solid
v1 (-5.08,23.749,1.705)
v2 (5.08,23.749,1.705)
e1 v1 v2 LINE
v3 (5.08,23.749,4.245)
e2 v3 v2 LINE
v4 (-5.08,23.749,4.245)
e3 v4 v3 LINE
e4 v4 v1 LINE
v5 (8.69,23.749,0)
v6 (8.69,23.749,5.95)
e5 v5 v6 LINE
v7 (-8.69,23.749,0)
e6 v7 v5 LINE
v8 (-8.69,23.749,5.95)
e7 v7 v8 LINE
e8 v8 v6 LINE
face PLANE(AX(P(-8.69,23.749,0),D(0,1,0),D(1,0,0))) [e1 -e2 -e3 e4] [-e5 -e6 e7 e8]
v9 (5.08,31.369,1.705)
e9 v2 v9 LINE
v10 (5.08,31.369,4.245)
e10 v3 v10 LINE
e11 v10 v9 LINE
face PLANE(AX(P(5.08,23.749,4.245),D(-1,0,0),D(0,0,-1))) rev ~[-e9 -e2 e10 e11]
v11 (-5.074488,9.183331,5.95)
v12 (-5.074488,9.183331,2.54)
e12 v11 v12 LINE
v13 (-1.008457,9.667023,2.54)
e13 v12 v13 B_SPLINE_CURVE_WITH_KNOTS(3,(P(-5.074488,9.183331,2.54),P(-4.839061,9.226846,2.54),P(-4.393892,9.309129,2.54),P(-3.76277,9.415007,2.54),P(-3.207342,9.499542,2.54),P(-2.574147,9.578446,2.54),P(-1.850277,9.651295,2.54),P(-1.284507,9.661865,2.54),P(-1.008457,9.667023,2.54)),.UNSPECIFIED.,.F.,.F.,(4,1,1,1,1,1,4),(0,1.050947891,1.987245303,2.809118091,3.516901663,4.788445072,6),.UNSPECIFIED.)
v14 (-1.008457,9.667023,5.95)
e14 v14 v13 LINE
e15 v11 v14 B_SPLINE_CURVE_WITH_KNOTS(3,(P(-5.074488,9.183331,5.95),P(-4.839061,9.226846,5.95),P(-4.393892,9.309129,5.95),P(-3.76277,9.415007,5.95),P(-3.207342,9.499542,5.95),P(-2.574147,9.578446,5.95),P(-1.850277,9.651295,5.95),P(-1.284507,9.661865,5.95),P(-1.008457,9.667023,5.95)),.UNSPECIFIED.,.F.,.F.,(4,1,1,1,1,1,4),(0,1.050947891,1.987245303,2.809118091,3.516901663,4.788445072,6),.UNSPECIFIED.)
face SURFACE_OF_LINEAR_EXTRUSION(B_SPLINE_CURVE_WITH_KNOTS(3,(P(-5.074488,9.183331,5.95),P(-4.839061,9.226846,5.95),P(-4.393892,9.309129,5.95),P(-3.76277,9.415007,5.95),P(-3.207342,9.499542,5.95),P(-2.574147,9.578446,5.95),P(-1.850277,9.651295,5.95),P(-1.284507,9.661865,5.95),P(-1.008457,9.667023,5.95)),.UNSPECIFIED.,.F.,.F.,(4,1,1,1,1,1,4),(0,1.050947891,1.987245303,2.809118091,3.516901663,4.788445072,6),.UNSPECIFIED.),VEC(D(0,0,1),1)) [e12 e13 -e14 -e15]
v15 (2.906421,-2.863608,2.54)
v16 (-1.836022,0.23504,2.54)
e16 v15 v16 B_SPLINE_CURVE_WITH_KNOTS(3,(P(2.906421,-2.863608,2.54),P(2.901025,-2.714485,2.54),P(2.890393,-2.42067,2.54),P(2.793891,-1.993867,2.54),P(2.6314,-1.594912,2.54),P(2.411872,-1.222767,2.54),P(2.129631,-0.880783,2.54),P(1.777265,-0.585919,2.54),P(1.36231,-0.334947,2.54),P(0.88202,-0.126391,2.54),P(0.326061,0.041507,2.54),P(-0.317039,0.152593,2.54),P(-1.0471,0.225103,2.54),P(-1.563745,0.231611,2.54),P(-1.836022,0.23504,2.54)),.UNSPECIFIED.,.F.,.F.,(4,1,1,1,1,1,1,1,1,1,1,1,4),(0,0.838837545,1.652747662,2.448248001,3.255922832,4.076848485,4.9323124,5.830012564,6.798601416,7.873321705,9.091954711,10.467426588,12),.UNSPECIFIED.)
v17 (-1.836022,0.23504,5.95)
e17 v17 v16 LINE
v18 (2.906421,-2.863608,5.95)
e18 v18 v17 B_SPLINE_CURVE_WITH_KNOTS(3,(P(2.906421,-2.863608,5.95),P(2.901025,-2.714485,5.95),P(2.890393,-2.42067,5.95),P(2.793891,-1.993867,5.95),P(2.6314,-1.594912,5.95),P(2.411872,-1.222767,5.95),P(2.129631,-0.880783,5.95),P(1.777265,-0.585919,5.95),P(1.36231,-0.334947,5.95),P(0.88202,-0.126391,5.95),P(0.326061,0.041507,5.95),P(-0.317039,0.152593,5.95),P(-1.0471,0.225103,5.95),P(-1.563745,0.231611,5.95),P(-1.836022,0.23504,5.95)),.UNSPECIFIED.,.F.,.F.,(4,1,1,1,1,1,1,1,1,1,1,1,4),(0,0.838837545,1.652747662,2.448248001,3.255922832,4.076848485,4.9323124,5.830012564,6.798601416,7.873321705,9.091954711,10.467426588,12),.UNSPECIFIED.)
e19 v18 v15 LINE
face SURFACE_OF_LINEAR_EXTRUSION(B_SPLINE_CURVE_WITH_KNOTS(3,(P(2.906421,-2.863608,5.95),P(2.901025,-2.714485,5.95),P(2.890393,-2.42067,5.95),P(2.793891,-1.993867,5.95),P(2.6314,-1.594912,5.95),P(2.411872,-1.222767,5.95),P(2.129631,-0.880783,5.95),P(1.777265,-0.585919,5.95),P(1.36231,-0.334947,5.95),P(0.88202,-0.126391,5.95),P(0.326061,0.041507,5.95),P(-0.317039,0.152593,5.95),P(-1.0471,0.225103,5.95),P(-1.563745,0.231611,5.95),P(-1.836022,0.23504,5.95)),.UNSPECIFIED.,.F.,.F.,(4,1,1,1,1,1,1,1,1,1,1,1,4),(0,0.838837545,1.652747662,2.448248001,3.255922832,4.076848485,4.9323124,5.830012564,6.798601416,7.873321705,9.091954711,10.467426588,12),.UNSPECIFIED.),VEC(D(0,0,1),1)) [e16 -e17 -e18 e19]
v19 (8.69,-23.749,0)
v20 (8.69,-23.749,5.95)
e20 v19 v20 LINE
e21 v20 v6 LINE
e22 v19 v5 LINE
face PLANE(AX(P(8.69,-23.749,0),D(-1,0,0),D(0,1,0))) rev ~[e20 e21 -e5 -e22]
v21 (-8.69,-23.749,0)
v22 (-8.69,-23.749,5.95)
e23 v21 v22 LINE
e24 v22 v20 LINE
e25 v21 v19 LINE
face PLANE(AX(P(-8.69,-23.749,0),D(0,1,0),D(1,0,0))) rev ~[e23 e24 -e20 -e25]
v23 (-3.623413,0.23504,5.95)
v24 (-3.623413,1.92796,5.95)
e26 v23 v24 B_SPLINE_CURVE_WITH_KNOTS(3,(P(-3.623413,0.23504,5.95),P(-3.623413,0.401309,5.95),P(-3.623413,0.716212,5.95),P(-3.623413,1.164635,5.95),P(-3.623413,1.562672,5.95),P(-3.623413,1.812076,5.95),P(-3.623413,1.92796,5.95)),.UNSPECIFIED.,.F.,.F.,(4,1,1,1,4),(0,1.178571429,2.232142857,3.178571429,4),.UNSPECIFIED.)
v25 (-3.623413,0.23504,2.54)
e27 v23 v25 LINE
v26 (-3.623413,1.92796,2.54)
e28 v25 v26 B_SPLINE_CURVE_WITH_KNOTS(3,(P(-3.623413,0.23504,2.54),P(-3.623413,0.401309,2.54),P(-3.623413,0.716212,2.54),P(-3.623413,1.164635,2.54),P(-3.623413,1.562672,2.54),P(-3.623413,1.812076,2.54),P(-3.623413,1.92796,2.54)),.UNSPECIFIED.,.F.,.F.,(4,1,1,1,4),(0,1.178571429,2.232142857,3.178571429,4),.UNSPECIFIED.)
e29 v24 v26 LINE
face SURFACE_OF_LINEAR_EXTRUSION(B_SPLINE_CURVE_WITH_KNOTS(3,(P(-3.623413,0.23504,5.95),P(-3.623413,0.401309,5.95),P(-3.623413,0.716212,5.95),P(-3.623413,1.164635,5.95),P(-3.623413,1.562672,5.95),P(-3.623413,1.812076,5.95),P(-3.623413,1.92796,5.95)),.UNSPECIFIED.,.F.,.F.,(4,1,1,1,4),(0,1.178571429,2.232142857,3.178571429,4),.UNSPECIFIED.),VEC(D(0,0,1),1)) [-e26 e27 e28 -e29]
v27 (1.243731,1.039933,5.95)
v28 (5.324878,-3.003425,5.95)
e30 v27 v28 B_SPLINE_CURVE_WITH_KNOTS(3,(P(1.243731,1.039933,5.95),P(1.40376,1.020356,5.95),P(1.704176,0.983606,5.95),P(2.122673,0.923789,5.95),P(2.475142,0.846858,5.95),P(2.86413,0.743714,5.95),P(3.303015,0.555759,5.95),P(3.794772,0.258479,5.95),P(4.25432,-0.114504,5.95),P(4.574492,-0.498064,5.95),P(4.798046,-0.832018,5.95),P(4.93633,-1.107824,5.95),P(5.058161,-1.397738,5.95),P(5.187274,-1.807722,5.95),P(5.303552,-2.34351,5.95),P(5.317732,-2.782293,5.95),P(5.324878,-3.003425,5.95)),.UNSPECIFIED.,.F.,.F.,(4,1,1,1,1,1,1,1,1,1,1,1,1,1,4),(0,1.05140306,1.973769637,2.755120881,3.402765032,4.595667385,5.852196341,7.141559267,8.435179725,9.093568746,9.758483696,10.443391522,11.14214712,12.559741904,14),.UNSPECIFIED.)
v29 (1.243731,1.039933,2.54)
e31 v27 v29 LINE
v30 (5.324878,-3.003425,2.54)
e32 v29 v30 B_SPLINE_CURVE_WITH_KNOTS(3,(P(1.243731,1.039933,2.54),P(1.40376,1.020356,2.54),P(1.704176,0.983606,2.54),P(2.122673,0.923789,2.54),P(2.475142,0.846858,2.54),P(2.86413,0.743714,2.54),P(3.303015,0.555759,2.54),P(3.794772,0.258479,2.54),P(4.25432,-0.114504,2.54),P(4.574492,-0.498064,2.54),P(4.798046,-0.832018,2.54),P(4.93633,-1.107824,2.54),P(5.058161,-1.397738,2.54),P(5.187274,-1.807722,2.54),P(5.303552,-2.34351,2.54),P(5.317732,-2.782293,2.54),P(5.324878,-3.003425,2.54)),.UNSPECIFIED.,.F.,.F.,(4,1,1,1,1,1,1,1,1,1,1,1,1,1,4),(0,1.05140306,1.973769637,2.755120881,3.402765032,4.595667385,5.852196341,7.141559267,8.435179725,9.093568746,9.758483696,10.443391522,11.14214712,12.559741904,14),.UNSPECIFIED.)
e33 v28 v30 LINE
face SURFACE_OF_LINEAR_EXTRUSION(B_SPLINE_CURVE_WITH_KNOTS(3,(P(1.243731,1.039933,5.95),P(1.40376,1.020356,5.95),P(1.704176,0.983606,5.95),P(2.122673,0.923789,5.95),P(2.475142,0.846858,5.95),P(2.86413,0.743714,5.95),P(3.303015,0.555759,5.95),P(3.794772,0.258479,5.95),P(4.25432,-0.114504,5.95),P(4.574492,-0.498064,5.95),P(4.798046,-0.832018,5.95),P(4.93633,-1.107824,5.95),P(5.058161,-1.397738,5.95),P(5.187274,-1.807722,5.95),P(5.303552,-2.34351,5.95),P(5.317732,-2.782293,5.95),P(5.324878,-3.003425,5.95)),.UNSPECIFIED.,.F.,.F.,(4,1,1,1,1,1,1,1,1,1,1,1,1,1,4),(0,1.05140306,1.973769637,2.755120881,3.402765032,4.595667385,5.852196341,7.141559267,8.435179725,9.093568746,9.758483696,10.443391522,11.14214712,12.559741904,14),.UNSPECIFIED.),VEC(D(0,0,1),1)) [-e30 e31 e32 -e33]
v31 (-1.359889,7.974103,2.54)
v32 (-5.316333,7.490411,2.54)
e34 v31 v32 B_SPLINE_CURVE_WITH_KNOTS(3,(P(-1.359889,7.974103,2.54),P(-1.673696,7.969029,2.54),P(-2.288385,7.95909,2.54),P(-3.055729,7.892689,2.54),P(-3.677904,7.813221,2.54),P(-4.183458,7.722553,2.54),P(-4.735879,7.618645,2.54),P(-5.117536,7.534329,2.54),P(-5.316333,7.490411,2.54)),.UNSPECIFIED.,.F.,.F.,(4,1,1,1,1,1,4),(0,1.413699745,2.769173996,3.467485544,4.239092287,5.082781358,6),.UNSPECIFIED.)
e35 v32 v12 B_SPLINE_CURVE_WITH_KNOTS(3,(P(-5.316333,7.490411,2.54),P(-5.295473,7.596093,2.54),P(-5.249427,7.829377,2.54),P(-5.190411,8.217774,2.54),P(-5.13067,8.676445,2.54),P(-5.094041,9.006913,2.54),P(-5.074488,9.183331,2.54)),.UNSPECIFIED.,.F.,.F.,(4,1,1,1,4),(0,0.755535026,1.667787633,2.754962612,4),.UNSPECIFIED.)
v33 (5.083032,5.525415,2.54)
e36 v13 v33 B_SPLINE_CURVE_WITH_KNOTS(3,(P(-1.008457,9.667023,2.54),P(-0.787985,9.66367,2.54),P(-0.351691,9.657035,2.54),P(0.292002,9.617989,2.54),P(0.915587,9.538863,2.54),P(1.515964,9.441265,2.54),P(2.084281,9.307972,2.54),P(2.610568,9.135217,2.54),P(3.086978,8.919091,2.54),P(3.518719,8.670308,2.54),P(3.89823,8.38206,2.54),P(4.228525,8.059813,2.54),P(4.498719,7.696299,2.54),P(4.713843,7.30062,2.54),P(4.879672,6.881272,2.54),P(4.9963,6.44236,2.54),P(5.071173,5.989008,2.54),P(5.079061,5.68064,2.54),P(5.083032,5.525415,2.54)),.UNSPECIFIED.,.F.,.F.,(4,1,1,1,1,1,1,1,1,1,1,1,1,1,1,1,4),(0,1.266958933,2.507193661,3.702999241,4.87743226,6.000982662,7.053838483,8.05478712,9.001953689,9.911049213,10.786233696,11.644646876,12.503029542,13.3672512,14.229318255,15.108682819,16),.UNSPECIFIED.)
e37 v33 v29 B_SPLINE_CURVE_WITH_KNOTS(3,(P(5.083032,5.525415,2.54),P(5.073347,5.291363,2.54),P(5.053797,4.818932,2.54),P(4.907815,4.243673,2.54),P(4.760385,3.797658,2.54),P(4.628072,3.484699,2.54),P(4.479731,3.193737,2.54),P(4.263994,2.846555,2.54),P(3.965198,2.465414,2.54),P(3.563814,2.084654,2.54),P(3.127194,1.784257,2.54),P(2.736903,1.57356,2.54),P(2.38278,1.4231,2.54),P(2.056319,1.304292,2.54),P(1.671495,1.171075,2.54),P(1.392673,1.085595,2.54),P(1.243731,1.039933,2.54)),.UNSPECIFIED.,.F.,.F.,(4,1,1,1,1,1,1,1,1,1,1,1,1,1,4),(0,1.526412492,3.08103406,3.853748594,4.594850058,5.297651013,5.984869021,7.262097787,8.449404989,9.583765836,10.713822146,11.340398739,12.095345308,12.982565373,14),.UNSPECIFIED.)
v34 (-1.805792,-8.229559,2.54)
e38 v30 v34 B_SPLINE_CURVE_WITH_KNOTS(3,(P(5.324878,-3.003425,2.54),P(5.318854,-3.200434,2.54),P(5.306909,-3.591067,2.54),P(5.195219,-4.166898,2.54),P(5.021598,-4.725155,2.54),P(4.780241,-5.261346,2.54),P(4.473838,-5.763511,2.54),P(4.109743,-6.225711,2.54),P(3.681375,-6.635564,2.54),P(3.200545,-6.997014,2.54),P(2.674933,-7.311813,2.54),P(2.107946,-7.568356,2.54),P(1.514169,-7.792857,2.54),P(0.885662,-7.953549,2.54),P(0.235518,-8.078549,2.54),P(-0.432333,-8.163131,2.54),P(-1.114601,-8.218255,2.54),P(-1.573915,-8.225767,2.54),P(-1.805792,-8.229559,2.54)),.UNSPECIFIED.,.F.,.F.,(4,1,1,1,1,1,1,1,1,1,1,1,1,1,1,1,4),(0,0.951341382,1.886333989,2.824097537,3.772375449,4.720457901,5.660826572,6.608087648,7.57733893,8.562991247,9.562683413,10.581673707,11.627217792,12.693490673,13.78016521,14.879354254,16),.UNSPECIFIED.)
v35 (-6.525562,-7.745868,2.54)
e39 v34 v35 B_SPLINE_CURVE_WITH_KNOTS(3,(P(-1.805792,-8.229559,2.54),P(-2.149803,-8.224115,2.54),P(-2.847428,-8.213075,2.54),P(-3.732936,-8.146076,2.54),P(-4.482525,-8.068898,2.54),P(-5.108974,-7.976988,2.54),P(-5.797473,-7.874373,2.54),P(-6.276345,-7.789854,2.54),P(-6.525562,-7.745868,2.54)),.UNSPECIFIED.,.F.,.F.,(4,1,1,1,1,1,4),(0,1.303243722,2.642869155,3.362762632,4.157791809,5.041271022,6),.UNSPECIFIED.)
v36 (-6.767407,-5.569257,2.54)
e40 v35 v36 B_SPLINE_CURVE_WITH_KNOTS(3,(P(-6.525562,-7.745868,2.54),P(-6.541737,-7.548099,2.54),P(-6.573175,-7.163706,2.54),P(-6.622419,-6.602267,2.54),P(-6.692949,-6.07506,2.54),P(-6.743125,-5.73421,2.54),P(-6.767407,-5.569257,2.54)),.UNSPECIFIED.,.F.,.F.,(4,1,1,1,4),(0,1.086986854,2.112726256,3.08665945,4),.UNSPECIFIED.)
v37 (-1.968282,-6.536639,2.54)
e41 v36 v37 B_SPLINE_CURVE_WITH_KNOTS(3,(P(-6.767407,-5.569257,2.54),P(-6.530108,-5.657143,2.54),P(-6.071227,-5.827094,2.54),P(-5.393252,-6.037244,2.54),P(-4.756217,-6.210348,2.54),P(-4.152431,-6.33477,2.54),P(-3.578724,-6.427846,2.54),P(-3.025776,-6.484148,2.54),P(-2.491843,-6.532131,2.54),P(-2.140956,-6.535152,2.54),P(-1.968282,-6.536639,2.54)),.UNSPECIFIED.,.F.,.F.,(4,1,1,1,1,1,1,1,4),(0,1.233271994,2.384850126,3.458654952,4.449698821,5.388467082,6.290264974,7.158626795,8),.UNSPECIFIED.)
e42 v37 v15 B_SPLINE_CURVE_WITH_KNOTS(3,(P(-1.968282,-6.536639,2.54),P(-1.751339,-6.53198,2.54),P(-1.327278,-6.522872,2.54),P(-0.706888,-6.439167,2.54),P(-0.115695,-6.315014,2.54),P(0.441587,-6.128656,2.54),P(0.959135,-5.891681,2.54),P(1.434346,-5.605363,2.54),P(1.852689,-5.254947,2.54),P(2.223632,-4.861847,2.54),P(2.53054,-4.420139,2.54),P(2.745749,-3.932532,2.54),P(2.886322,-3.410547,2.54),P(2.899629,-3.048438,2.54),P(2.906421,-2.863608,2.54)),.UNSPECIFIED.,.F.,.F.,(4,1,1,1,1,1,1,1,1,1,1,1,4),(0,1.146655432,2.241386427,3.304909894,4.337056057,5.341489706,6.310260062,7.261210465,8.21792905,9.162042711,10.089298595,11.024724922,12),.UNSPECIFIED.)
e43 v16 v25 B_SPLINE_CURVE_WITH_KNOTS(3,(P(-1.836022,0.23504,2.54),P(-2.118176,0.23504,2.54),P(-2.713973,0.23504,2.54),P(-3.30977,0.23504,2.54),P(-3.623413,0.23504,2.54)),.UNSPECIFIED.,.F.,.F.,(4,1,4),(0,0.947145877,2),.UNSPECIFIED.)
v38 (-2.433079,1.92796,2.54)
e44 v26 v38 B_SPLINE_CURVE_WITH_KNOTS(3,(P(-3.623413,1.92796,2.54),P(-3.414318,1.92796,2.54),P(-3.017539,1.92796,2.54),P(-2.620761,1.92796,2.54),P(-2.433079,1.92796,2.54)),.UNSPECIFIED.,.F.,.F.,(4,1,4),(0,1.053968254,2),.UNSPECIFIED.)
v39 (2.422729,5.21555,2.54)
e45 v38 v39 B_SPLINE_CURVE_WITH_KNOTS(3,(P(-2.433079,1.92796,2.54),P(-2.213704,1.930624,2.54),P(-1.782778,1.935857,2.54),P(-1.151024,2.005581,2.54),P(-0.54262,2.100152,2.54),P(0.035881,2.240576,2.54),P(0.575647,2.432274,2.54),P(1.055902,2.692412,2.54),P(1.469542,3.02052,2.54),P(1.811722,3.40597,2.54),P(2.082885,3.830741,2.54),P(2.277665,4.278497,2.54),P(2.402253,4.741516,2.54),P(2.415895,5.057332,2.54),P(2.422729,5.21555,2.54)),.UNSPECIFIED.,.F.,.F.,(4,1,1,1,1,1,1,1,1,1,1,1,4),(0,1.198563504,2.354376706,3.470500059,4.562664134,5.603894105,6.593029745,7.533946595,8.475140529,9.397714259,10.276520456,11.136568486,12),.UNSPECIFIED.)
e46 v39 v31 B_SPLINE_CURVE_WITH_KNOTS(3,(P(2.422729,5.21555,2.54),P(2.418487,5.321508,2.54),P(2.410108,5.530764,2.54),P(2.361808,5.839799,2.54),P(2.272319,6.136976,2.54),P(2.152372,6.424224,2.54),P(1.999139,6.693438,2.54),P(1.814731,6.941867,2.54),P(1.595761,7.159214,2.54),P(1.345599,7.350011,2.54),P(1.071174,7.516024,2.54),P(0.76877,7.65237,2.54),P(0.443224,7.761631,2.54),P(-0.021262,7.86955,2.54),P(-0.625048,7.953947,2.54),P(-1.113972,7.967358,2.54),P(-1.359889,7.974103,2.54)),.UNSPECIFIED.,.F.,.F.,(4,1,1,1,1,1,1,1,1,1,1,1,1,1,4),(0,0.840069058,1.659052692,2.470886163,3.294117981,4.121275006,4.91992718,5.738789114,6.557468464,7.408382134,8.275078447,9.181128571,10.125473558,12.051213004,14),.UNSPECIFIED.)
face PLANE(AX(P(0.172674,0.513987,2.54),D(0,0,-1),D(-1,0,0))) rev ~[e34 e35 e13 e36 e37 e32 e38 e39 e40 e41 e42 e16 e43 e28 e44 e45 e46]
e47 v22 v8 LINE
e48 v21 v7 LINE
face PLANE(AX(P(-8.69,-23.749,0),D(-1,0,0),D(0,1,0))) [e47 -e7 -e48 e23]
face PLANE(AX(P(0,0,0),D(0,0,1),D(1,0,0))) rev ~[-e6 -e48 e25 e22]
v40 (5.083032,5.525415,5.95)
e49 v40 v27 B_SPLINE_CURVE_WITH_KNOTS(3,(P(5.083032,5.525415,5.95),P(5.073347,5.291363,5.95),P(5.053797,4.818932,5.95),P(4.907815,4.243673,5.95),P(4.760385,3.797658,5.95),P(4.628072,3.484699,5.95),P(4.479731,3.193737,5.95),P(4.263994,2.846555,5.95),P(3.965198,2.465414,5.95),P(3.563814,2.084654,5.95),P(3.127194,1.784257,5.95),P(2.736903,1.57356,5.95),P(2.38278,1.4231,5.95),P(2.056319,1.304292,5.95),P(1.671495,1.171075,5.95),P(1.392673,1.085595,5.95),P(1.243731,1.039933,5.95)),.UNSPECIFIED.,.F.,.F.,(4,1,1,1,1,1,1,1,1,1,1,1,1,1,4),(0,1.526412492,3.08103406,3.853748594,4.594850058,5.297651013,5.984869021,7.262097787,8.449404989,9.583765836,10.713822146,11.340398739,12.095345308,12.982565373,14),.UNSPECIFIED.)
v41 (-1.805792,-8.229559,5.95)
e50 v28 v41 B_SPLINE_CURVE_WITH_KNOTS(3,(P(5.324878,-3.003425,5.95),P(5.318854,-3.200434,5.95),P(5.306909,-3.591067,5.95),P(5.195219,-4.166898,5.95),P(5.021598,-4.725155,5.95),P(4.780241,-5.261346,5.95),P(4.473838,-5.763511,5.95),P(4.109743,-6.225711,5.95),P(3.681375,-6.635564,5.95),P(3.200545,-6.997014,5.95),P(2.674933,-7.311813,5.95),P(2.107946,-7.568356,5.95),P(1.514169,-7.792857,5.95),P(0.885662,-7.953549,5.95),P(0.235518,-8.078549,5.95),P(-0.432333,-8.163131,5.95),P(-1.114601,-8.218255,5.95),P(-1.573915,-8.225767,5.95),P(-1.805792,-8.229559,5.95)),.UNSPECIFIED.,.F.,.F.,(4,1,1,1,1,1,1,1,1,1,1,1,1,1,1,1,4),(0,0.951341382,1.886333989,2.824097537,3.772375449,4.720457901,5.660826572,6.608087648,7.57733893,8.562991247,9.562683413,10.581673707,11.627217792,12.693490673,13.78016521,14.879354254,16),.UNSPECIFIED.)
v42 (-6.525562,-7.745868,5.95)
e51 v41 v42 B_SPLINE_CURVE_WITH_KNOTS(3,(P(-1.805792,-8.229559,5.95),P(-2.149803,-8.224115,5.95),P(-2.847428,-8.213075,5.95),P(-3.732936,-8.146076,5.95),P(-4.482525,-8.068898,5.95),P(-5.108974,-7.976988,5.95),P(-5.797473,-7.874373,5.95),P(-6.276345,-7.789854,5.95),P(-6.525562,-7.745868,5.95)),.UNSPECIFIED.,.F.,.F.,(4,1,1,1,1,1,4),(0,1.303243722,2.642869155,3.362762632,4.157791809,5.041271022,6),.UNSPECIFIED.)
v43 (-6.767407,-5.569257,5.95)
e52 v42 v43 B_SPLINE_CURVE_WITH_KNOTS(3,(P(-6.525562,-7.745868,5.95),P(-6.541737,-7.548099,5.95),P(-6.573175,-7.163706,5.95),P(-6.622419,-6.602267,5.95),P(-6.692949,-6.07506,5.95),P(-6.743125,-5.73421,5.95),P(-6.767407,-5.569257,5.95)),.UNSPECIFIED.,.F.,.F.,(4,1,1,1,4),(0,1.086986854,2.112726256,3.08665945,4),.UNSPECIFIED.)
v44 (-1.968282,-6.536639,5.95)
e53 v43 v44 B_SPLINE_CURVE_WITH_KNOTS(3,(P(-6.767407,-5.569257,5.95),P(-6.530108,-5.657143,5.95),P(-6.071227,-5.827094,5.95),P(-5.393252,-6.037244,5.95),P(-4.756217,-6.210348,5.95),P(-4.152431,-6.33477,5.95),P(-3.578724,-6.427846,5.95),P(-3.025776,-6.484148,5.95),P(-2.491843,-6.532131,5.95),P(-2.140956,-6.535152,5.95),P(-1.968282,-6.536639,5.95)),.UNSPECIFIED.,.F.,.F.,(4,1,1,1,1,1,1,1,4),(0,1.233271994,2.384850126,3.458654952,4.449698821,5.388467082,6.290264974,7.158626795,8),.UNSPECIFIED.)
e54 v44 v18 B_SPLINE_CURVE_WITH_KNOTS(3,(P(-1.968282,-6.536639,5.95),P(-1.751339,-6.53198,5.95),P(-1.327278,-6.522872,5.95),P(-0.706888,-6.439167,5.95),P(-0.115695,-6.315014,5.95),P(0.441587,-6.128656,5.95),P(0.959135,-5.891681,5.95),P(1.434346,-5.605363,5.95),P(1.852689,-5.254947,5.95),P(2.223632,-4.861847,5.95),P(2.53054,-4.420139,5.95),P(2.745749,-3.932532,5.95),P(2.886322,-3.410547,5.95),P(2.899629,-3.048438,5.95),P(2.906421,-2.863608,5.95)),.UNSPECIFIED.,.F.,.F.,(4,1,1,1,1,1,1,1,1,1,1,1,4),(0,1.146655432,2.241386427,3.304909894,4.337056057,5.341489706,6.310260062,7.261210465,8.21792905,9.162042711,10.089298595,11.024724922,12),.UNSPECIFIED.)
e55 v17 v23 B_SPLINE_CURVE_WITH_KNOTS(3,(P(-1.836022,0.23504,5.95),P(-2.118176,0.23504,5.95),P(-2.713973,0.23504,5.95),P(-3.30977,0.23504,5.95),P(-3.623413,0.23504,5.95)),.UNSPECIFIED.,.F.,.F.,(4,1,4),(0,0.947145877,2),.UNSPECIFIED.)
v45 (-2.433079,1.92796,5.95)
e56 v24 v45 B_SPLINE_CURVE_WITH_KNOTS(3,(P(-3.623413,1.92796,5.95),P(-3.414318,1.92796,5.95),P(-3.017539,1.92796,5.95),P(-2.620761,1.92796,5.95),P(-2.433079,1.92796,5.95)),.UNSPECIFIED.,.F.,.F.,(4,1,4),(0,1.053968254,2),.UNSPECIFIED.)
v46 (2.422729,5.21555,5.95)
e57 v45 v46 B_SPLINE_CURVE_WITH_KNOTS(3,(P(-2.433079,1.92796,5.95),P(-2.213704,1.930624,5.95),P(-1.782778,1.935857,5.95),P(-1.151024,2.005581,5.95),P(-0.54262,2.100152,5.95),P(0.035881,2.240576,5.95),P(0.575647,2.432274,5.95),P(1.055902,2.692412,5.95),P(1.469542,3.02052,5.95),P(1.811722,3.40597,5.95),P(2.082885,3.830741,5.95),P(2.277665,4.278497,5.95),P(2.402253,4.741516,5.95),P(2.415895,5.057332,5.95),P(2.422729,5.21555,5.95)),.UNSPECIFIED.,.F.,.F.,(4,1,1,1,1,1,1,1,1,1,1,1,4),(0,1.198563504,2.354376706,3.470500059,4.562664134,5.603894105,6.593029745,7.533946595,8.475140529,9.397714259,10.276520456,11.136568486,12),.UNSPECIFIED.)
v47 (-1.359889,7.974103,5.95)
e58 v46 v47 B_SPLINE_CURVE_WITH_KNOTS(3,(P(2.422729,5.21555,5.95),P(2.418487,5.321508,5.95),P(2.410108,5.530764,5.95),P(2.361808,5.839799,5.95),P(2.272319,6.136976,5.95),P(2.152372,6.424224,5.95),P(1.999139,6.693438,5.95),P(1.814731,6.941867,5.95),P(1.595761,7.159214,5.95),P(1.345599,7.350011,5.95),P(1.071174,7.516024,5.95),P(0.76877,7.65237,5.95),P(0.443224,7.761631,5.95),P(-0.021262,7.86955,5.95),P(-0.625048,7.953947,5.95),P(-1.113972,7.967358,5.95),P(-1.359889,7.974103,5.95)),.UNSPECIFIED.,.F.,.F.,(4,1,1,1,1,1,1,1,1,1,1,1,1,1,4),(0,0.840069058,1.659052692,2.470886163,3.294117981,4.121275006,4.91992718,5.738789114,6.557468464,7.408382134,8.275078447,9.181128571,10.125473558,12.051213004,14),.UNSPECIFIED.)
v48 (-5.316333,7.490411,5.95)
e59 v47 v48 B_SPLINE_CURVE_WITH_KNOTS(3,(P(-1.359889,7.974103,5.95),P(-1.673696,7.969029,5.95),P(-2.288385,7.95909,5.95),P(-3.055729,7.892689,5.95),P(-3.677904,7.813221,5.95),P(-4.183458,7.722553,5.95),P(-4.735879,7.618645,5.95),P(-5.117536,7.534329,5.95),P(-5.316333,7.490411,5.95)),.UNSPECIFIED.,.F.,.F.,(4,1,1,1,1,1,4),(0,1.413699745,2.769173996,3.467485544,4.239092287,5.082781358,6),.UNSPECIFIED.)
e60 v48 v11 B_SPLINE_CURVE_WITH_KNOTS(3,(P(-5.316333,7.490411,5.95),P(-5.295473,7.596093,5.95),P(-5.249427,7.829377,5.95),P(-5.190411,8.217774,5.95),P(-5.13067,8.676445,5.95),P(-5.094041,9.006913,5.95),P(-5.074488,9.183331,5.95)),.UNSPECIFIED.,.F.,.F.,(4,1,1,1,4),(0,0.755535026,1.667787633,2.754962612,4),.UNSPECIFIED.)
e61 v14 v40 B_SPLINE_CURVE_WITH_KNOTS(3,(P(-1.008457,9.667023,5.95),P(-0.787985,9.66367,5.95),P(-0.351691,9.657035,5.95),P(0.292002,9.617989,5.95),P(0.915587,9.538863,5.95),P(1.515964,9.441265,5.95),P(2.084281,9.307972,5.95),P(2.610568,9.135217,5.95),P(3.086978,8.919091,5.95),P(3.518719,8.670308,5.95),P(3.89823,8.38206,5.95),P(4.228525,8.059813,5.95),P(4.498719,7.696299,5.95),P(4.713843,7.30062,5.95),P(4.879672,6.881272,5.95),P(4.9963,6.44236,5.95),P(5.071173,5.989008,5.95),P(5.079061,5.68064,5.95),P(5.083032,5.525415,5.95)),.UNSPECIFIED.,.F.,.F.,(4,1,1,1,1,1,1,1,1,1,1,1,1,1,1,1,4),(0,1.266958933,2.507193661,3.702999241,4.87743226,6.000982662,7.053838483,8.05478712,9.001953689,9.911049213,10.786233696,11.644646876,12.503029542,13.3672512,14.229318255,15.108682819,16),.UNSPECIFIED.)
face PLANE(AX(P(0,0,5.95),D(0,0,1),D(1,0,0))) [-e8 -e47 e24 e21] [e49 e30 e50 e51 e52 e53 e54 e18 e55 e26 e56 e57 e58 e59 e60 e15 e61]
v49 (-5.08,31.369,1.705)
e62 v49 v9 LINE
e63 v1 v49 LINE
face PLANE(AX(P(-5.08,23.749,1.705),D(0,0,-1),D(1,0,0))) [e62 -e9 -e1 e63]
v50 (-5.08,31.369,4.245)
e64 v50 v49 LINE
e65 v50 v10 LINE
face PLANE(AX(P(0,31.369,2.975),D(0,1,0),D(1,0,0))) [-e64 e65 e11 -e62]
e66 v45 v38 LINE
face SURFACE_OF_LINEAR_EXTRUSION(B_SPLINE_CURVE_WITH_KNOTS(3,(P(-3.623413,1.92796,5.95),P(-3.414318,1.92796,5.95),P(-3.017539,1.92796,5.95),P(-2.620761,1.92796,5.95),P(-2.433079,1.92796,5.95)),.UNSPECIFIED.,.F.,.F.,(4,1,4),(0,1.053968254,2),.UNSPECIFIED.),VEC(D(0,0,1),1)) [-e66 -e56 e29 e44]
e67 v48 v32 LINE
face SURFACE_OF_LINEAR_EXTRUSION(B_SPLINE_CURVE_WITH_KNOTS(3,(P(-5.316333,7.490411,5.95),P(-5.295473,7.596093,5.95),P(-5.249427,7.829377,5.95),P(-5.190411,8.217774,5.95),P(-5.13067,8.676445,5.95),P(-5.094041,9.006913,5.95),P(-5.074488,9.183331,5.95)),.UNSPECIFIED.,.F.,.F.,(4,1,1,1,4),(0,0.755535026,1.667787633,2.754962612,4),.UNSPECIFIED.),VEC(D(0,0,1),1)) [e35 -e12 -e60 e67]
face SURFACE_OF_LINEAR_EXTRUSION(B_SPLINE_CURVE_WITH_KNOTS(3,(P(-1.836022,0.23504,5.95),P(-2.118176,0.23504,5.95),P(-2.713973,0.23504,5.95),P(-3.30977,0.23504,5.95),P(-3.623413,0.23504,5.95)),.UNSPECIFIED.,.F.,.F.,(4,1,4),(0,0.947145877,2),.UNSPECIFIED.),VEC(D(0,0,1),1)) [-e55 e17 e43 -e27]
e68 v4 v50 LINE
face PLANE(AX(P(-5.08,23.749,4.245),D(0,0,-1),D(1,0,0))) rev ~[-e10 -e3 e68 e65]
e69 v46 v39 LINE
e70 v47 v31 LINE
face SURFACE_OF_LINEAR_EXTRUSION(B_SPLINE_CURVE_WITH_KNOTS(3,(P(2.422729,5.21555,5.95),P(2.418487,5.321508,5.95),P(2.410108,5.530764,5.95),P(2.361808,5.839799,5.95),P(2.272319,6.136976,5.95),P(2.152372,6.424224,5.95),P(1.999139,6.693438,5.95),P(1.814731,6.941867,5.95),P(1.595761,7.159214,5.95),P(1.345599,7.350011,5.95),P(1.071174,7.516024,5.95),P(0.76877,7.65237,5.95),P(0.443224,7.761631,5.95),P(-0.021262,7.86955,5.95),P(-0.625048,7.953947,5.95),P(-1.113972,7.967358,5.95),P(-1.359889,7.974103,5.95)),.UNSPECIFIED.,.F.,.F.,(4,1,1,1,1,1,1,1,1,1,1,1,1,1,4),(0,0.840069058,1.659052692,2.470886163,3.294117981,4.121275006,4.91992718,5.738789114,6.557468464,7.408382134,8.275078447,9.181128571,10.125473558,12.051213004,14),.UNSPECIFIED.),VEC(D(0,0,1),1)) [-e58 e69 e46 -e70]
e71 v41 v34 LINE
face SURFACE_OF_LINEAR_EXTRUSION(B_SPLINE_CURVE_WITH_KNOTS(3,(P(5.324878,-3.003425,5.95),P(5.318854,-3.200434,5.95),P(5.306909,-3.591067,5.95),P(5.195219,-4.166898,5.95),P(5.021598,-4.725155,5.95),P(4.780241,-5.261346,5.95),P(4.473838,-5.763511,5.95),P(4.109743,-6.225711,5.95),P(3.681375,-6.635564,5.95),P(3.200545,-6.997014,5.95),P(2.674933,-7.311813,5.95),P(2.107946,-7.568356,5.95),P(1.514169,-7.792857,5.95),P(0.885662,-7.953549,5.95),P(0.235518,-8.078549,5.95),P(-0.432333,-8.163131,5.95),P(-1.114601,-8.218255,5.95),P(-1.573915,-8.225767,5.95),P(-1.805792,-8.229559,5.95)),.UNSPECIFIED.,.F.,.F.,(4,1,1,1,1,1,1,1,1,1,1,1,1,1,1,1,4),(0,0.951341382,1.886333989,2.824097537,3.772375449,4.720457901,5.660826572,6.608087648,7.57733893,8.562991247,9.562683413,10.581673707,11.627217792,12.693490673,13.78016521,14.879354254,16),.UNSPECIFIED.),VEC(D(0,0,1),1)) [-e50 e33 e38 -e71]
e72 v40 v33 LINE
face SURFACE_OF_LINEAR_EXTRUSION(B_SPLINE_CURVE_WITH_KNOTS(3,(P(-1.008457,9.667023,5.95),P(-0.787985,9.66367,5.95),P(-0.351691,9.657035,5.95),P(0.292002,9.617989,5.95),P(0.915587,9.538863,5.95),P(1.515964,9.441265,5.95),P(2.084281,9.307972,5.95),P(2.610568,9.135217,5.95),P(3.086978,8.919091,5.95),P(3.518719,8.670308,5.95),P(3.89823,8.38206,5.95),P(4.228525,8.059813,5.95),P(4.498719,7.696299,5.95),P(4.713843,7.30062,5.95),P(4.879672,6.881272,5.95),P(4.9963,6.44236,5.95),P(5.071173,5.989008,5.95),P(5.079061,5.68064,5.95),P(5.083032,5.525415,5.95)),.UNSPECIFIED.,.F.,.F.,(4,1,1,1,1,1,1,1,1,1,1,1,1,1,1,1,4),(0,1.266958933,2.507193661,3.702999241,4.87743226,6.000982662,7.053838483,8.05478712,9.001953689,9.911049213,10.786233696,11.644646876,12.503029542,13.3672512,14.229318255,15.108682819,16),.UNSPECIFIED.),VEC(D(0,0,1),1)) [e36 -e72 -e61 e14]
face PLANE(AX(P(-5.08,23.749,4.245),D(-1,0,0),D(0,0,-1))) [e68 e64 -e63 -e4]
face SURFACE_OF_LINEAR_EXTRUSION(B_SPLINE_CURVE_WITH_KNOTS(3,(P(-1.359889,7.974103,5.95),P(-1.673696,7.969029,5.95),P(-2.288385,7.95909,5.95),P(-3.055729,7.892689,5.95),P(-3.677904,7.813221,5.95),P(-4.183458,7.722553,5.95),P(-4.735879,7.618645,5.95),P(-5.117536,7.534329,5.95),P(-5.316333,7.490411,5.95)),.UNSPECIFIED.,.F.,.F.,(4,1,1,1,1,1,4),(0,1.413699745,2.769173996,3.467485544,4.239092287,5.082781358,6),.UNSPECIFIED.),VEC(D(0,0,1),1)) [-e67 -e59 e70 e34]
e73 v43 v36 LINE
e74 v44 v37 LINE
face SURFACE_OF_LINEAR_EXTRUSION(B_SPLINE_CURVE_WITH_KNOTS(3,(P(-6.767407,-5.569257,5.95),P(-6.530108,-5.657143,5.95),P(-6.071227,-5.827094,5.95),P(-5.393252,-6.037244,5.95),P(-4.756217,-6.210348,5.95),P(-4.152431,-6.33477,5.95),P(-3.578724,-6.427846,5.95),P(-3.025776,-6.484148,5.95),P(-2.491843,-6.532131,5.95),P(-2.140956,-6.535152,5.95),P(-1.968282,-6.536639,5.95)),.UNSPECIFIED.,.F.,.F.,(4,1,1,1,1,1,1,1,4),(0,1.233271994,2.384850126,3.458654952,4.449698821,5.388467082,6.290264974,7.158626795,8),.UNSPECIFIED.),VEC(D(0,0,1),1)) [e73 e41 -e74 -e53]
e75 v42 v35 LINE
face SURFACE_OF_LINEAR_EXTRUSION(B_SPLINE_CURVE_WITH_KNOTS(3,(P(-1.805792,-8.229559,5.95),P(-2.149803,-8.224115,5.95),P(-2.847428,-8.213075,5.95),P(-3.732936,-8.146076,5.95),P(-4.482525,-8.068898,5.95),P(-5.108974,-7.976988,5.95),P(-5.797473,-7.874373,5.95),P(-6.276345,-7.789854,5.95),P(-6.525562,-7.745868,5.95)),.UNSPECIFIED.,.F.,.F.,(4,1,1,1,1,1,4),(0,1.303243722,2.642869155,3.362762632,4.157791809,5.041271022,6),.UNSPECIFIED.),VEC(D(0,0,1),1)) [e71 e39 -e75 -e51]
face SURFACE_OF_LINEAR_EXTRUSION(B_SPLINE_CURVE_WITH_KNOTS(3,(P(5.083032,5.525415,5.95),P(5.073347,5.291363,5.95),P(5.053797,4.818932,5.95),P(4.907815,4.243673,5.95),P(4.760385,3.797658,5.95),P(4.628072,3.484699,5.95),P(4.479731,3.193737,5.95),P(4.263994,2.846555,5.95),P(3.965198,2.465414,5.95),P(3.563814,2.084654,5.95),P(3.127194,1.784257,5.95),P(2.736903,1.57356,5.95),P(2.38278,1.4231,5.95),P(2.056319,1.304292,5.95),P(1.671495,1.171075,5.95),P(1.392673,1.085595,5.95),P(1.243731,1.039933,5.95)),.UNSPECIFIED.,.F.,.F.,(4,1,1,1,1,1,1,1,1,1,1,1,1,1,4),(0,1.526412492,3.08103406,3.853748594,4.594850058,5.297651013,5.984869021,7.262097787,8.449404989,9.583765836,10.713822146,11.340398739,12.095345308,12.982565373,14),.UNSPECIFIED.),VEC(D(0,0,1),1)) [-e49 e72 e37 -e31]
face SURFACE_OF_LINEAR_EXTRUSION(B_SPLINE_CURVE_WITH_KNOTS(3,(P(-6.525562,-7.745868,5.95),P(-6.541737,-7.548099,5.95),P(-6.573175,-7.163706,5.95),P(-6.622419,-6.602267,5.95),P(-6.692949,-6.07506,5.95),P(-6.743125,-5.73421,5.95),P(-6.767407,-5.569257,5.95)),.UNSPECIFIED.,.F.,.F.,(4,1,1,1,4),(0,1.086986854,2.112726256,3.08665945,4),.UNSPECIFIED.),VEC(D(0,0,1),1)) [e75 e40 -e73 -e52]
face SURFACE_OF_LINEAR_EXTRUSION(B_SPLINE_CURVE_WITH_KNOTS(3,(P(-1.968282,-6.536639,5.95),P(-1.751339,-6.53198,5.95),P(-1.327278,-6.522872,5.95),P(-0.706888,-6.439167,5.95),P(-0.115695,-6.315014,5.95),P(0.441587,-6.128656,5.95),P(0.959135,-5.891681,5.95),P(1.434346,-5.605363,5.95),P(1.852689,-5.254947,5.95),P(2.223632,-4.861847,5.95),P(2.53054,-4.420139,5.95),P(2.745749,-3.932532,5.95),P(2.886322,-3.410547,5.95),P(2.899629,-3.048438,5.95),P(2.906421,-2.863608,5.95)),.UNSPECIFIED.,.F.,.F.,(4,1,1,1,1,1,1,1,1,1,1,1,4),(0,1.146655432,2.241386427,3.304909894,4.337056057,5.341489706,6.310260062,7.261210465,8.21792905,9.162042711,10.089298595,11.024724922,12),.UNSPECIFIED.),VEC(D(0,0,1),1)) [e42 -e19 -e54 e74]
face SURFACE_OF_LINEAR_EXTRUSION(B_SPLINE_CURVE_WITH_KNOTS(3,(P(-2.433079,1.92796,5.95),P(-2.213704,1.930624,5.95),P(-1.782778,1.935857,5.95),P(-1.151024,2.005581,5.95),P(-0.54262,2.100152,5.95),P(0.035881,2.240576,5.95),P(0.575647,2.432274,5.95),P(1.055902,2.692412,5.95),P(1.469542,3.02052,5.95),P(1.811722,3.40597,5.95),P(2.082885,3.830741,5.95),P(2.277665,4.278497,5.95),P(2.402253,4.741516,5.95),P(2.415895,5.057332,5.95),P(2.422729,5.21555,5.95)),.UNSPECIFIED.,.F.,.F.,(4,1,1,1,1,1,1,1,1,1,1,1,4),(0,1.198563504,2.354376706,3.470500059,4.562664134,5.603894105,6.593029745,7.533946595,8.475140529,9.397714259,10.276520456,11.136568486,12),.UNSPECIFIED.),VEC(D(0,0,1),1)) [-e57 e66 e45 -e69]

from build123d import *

# Parameters (mm, degrees)
SKETCH1_W           = 17.38
SKETCH1_H           = 47.498
BOSS_EXTRUDE1_DEPTH = 5.95
CUT_EXTRUDE1_DEPTH  = 3.41
SKETCH3_W           = 10.16
SKETCH3_H           = 2.54
BOSS_EXTRUDE2_DEPTH = 7.62


with BuildPart() as part:
    # Sketch1 → Boss-Extrude1 (new body)
    with BuildSketch(Plane.XY):
        Rectangle(SKETCH1_W, SKETCH1_H)
    extrude(amount=BOSS_EXTRUDE1_DEPTH)

    # Sketch2 → Cut-Extrude1 (cut)
    with BuildSketch(Plane.XY.offset(5.95)):
        with BuildLine():
            add(Edge.make_bspline(
                [(-6.52556172, -7.745867902), (-6.541736639, -7.548099343), (-6.573175083, -7.163705708), (-6.622418565, -6.602266915), (-6.692949133, -6.075060478), (-6.743124974, -5.734210105), (-6.767407423, -5.569256574)],
                knots=[0, 0, 0, 0, 1.086986854, 2.112726256, 3.08665945, 4, 4, 4, 4], degree=3))
            add(Edge.make_bspline(
                [(-6.767407423, -5.569256574), (-6.530107504, -5.65714284), (-6.071226782, -5.827093648), (-5.393252267, -6.037243911), (-4.756216501, -6.210347647), (-4.152431156, -6.334769991), (-3.57872429, -6.427846187), (-3.025776205, -6.484148091), (-2.49184335, -6.53213088), (-2.140956001, -6.53515245), (-1.968281752, -6.536639386)],
                knots=[0, 0, 0, 0, 1.233271994, 2.384850126, 3.458654952, 4.449698821, 5.388467082, 6.290264974, 7.158626795, 8, 8, 8, 8], degree=3))
            add(Edge.make_bspline(
                [(-1.968281752, -6.536639386), (-1.75133924, -6.531980014), (-1.327278106, -6.522872262), (-0.706888473, -6.439166817), (-0.115695472, -6.315014093), (0.441587435, -6.128655567), (0.959134586, -5.891680706), (1.434346256, -5.60536251), (1.852688666, -5.254947102), (2.223631893, -4.861847073), (2.530540018, -4.420139374), (2.745748542, -3.932531949), (2.886322279, -3.410547349), (2.899628723, -3.048438292), (2.906420702, -2.86360777)],
                knots=[0, 0, 0, 0, 1.146655432, 2.241386427, 3.304909894, 4.337056057, 5.341489706, 6.310260062, 7.261210465, 8.21792905, 9.162042711, 10.089298595, 11.024724922, 12, 12, 12, 12], degree=3))
            add(Edge.make_bspline(
                [(2.906420702, -2.86360777), (2.901024718, -2.714484768), (2.890393101, -2.420670199), (2.793891256, -1.993867016), (2.631400278, -1.594911679), (2.411871676, -1.222767409), (2.129631062, -0.880783066), (1.777265044, -0.58591917), (1.362310422, -0.334947261), (0.882019785, -0.126391182), (0.326060942, 0.041506515), (-0.317039003, 0.152592763), (-1.047099623, 0.225103406), (-1.563744548, 0.231610819), (-1.836022383, 0.235040301)],
                knots=[0, 0, 0, 0, 0.838837545, 1.652747662, 2.448248001, 3.255922832, 4.076848485, 4.9323124, 5.830012564, 6.798601416, 7.873321705, 9.091954711, 10.467426588, 12, 12, 12, 12], degree=3))
            add(Edge.make_bspline(
                [(-1.836022383, 0.235040301), (-2.118175703, 0.235040301), (-2.71397267, 0.235040301), (-3.309769636, 0.235040301), (-3.623413283, 0.235040301)],
                knots=[0, 0, 0, 0, 0.947145877, 2, 2, 2, 2], degree=3))
            add(Edge.make_bspline(
                [(-3.623413283, 0.235040301), (-3.623413283, 0.401309222), (-3.623413283, 0.716212481), (-3.623413283, 1.164634723), (-3.623413283, 1.562672442), (-3.623413283, 1.812075824), (-3.623413283, 1.927960223)],
                knots=[0, 0, 0, 0, 1.178571429, 2.232142857, 3.178571429, 4, 4, 4, 4], degree=3))
            add(Edge.make_bspline(
                [(-3.623413283, 1.927960223), (-3.414317518, 1.927960223), (-3.017539412, 1.927960223), (-2.620761305, 1.927960223), (-2.433078962, 1.927960223)],
                knots=[0, 0, 0, 0, 1.053968254, 2, 2, 2, 2], degree=3))
            add(Edge.make_bspline(
                [(-2.433078962, 1.927960223), (-2.213703602, 1.930624231), (-1.782777551, 1.935857226), (-1.151023939, 2.0055806), (-0.542619853, 2.10015175), (0.035880784, 2.240575523), (0.575646904, 2.432273783), (1.055902319, 2.692411738), (1.469541725, 3.020520175), (1.811722492, 3.405969987), (2.08288473, 3.830741215), (2.27766536, 4.278496537), (2.402253448, 4.741516196), (2.415895086, 5.057332232), (2.422729296, 5.21555025)],
                knots=[0, 0, 0, 0, 1.198563504, 2.354376706, 3.470500059, 4.562664134, 5.603894105, 6.593029745, 7.533946595, 8.475140529, 9.397714259, 10.276520456, 11.136568486, 12, 12, 12, 12], degree=3))
            add(Edge.make_bspline(
                [(2.422729296, 5.21555025), (2.41848686, 5.321507932), (2.410108472, 5.530763797), (2.361808308, 5.839798802), (2.272318537, 6.136976064), (2.152371646, 6.424223648), (1.999138717, 6.693438231), (1.814730838, 6.941867492), (1.595760775, 7.159214462), (1.345598912, 7.350011462), (1.071173531, 7.516024108), (0.768770465, 7.652369954), (0.443224079, 7.761631168), (-0.02126237, 7.869550376), (-0.625047542, 7.953947292), (-1.113972164, 7.967357708), (-1.359888655, 7.974102801)],
                knots=[0, 0, 0, 0, 0.840069058, 1.659052692, 2.470886163, 3.294117981, 4.121275006, 4.91992718, 5.738789114, 6.557468464, 7.408382134, 8.275078447, 9.181128571, 10.125473558, 12.051213004, 14, 14, 14, 14], degree=3))
            add(Edge.make_bspline(
                [(-1.359888655, 7.974102801), (-1.673695553, 7.969028927), (-2.28838471, 7.959090155), (-3.055728965, 7.892689053), (-3.677904349, 7.813221258), (-4.183457732, 7.722552933), (-4.735878517, 7.618644903), (-5.117536064, 7.534329474), (-5.316333204, 7.490411395)],
                knots=[0, 0, 0, 0, 1.413699745, 2.769173996, 3.467485544, 4.239092287, 5.082781358, 6, 6, 6, 6], degree=3))
            add(Edge.make_bspline(
                [(-5.316333204, 7.490411395), (-5.295473469, 7.596092866), (-5.249427147, 7.829376891), (-5.190410995, 8.217774099), (-5.130669891, 8.676445311), (-5.094041399, 9.006913098), (-5.074487501, 9.183331317)],
                knots=[0, 0, 0, 0, 0.755535026, 1.667787633, 2.754962612, 4, 4, 4, 4], degree=3))
            add(Edge.make_bspline(
                [(-5.074487501, 9.183331317), (-4.839061429, 9.226846422), (-4.393892492, 9.309129464), (-3.762770018, 9.415006617), (-3.207342126, 9.499542218), (-2.574147348, 9.578446025), (-1.850277468, 9.651295087), (-1.284507474, 9.661865299), (-1.008456617, 9.667022723)],
                knots=[0, 0, 0, 0, 1.050947891, 1.987245303, 2.809118091, 3.516901663, 4.788445072, 6, 6, 6, 6], degree=3))
            add(Edge.make_bspline(
                [(-1.008456617, 9.667022723), (-0.787984528, 9.663669776), (-0.351690808, 9.657034605), (0.292002393, 9.617988713), (0.915587457, 9.538862965), (1.515964453, 9.441265363), (2.084281473, 9.307972062), (2.610568352, 9.135217425), (3.086978216, 8.919091142), (3.518718882, 8.670307938), (3.898229552, 8.382060206), (4.228524929, 8.059813131), (4.498719018, 7.696298707), (4.713843094, 7.300619566), (4.879671631, 6.881272468), (4.99630019, 6.442360068), (5.071173168, 5.989007724), (5.079061327, 5.680639804), (5.08303203, 5.525415057)],
                knots=[0, 0, 0, 0, 1.266958933, 2.507193661, 3.702999241, 4.87743226, 6.000982662, 7.053838483, 8.05478712, 9.001953689, 9.911049213, 10.786233696, 11.644646876, 12.503029542, 13.3672512, 14.229318255, 15.108682819, 16, 16, 16, 16], degree=3))
            add(Edge.make_bspline(
                [(5.08303203, 5.525415057), (5.073346612, 5.29136261), (5.053796783, 4.818932278), (4.907815231, 4.243673456), (4.760384651, 3.797657776), (4.628071558, 3.484699001), (4.479730584, 3.193737158), (4.263994326, 2.846554659), (3.965197708, 2.465414494), (3.563814241, 2.084654396), (3.127194483, 1.784257241), (2.736903149, 1.573559514), (2.382780475, 1.423099561), (2.056319362, 1.304292136), (1.671494725, 1.171074546), (1.392673252, 1.085594852), (1.243731493, 1.039933032)],
                knots=[0, 0, 0, 0, 1.526412492, 3.08103406, 3.853748594, 4.594850058, 5.297651013, 5.984869021, 7.262097787, 8.449404989, 9.583765836, 10.713822146, 11.340398739, 12.095345308, 12.982565373, 14, 14, 14, 14], degree=3))
            add(Edge.make_bspline(
                [(1.243731493, 1.039933032), (1.403759525, 1.020356376), (1.704175687, 0.983605665), (2.122673042, 0.923789077), (2.475141845, 0.846858293), (2.864130218, 0.743713734), (3.303014609, 0.555758637), (3.794772208, 0.258479198), (4.254320263, -0.114504015), (4.574491765, -0.49806429), (4.798045633, -0.832017921), (4.936330324, -1.107824276), (5.058160875, -1.397737762), (5.187274335, -1.807722085), (5.303551629, -2.343509578), (5.317731548, -2.782293192), (5.324877733, -3.003424817)],
                knots=[0, 0, 0, 0, 1.05140306, 1.973769637, 2.755120881, 3.402765032, 4.595667385, 5.852196341, 7.141559267, 8.435179725, 9.093568746, 9.758483696, 10.443391522, 11.14214712, 12.559741904, 14, 14, 14, 14], degree=3))
            add(Edge.make_bspline(
                [(5.324877733, -3.003424817), (5.318853578, -3.20043409), (5.306908792, -3.591067038), (5.195219007, -4.166898163), (5.021598461, -4.725154765), (4.780241026, -5.261346273), (4.473837665, -5.76351089), (4.109742558, -6.225711012), (3.681374753, -6.635564365), (3.200544791, -6.997013579), (2.674933003, -7.311812541), (2.107945699, -7.568355733), (1.514168959, -7.792857134), (0.885662086, -7.953548794), (0.235517943, -8.078548986), (-0.432333007, -8.163130761), (-1.114600952, -8.218254877), (-1.57391487, -8.225766961), (-1.80579167, -8.229559308)],
                knots=[0, 0, 0, 0, 0.951341382, 1.886333989, 2.824097537, 3.772375449, 4.720457901, 5.660826572, 6.608087648, 7.57733893, 8.562991247, 9.562683413, 10.581673707, 11.627217792, 12.693490673, 13.78016521, 14.879354254, 16, 16, 16, 16], degree=3))
            add(Edge.make_bspline(
                [(-1.80579167, -8.229559308), (-2.149802637, -8.224115148), (-2.847428076, -8.213074847), (-3.73293587, -8.146076159), (-4.482524718, -8.068898196), (-5.10897433, -7.976987959), (-5.797472847, -7.874373492), (-6.276345169, -7.789853906), (-6.52556172, -7.745867902)],
                knots=[0, 0, 0, 0, 1.303243722, 2.642869155, 3.362762632, 4.157791809, 5.041271022, 6, 6, 6, 6], degree=3))
        make_face()
    extrude(amount=-CUT_EXTRUDE1_DEPTH, mode=Mode.SUBTRACT)

    # Sketch3 → Boss-Extrude2 (add)
    with BuildSketch(Plane(origin=(0, 23.749, 0), x_dir=(1, 0, 0), z_dir=(0, 1, 0))):
        with Locations((0, -2.975)):
            Rectangle(SKETCH3_W, SKETCH3_H)
    extrude(amount=BOSS_EXTRUDE2_DEPTH)


solid = part.part
